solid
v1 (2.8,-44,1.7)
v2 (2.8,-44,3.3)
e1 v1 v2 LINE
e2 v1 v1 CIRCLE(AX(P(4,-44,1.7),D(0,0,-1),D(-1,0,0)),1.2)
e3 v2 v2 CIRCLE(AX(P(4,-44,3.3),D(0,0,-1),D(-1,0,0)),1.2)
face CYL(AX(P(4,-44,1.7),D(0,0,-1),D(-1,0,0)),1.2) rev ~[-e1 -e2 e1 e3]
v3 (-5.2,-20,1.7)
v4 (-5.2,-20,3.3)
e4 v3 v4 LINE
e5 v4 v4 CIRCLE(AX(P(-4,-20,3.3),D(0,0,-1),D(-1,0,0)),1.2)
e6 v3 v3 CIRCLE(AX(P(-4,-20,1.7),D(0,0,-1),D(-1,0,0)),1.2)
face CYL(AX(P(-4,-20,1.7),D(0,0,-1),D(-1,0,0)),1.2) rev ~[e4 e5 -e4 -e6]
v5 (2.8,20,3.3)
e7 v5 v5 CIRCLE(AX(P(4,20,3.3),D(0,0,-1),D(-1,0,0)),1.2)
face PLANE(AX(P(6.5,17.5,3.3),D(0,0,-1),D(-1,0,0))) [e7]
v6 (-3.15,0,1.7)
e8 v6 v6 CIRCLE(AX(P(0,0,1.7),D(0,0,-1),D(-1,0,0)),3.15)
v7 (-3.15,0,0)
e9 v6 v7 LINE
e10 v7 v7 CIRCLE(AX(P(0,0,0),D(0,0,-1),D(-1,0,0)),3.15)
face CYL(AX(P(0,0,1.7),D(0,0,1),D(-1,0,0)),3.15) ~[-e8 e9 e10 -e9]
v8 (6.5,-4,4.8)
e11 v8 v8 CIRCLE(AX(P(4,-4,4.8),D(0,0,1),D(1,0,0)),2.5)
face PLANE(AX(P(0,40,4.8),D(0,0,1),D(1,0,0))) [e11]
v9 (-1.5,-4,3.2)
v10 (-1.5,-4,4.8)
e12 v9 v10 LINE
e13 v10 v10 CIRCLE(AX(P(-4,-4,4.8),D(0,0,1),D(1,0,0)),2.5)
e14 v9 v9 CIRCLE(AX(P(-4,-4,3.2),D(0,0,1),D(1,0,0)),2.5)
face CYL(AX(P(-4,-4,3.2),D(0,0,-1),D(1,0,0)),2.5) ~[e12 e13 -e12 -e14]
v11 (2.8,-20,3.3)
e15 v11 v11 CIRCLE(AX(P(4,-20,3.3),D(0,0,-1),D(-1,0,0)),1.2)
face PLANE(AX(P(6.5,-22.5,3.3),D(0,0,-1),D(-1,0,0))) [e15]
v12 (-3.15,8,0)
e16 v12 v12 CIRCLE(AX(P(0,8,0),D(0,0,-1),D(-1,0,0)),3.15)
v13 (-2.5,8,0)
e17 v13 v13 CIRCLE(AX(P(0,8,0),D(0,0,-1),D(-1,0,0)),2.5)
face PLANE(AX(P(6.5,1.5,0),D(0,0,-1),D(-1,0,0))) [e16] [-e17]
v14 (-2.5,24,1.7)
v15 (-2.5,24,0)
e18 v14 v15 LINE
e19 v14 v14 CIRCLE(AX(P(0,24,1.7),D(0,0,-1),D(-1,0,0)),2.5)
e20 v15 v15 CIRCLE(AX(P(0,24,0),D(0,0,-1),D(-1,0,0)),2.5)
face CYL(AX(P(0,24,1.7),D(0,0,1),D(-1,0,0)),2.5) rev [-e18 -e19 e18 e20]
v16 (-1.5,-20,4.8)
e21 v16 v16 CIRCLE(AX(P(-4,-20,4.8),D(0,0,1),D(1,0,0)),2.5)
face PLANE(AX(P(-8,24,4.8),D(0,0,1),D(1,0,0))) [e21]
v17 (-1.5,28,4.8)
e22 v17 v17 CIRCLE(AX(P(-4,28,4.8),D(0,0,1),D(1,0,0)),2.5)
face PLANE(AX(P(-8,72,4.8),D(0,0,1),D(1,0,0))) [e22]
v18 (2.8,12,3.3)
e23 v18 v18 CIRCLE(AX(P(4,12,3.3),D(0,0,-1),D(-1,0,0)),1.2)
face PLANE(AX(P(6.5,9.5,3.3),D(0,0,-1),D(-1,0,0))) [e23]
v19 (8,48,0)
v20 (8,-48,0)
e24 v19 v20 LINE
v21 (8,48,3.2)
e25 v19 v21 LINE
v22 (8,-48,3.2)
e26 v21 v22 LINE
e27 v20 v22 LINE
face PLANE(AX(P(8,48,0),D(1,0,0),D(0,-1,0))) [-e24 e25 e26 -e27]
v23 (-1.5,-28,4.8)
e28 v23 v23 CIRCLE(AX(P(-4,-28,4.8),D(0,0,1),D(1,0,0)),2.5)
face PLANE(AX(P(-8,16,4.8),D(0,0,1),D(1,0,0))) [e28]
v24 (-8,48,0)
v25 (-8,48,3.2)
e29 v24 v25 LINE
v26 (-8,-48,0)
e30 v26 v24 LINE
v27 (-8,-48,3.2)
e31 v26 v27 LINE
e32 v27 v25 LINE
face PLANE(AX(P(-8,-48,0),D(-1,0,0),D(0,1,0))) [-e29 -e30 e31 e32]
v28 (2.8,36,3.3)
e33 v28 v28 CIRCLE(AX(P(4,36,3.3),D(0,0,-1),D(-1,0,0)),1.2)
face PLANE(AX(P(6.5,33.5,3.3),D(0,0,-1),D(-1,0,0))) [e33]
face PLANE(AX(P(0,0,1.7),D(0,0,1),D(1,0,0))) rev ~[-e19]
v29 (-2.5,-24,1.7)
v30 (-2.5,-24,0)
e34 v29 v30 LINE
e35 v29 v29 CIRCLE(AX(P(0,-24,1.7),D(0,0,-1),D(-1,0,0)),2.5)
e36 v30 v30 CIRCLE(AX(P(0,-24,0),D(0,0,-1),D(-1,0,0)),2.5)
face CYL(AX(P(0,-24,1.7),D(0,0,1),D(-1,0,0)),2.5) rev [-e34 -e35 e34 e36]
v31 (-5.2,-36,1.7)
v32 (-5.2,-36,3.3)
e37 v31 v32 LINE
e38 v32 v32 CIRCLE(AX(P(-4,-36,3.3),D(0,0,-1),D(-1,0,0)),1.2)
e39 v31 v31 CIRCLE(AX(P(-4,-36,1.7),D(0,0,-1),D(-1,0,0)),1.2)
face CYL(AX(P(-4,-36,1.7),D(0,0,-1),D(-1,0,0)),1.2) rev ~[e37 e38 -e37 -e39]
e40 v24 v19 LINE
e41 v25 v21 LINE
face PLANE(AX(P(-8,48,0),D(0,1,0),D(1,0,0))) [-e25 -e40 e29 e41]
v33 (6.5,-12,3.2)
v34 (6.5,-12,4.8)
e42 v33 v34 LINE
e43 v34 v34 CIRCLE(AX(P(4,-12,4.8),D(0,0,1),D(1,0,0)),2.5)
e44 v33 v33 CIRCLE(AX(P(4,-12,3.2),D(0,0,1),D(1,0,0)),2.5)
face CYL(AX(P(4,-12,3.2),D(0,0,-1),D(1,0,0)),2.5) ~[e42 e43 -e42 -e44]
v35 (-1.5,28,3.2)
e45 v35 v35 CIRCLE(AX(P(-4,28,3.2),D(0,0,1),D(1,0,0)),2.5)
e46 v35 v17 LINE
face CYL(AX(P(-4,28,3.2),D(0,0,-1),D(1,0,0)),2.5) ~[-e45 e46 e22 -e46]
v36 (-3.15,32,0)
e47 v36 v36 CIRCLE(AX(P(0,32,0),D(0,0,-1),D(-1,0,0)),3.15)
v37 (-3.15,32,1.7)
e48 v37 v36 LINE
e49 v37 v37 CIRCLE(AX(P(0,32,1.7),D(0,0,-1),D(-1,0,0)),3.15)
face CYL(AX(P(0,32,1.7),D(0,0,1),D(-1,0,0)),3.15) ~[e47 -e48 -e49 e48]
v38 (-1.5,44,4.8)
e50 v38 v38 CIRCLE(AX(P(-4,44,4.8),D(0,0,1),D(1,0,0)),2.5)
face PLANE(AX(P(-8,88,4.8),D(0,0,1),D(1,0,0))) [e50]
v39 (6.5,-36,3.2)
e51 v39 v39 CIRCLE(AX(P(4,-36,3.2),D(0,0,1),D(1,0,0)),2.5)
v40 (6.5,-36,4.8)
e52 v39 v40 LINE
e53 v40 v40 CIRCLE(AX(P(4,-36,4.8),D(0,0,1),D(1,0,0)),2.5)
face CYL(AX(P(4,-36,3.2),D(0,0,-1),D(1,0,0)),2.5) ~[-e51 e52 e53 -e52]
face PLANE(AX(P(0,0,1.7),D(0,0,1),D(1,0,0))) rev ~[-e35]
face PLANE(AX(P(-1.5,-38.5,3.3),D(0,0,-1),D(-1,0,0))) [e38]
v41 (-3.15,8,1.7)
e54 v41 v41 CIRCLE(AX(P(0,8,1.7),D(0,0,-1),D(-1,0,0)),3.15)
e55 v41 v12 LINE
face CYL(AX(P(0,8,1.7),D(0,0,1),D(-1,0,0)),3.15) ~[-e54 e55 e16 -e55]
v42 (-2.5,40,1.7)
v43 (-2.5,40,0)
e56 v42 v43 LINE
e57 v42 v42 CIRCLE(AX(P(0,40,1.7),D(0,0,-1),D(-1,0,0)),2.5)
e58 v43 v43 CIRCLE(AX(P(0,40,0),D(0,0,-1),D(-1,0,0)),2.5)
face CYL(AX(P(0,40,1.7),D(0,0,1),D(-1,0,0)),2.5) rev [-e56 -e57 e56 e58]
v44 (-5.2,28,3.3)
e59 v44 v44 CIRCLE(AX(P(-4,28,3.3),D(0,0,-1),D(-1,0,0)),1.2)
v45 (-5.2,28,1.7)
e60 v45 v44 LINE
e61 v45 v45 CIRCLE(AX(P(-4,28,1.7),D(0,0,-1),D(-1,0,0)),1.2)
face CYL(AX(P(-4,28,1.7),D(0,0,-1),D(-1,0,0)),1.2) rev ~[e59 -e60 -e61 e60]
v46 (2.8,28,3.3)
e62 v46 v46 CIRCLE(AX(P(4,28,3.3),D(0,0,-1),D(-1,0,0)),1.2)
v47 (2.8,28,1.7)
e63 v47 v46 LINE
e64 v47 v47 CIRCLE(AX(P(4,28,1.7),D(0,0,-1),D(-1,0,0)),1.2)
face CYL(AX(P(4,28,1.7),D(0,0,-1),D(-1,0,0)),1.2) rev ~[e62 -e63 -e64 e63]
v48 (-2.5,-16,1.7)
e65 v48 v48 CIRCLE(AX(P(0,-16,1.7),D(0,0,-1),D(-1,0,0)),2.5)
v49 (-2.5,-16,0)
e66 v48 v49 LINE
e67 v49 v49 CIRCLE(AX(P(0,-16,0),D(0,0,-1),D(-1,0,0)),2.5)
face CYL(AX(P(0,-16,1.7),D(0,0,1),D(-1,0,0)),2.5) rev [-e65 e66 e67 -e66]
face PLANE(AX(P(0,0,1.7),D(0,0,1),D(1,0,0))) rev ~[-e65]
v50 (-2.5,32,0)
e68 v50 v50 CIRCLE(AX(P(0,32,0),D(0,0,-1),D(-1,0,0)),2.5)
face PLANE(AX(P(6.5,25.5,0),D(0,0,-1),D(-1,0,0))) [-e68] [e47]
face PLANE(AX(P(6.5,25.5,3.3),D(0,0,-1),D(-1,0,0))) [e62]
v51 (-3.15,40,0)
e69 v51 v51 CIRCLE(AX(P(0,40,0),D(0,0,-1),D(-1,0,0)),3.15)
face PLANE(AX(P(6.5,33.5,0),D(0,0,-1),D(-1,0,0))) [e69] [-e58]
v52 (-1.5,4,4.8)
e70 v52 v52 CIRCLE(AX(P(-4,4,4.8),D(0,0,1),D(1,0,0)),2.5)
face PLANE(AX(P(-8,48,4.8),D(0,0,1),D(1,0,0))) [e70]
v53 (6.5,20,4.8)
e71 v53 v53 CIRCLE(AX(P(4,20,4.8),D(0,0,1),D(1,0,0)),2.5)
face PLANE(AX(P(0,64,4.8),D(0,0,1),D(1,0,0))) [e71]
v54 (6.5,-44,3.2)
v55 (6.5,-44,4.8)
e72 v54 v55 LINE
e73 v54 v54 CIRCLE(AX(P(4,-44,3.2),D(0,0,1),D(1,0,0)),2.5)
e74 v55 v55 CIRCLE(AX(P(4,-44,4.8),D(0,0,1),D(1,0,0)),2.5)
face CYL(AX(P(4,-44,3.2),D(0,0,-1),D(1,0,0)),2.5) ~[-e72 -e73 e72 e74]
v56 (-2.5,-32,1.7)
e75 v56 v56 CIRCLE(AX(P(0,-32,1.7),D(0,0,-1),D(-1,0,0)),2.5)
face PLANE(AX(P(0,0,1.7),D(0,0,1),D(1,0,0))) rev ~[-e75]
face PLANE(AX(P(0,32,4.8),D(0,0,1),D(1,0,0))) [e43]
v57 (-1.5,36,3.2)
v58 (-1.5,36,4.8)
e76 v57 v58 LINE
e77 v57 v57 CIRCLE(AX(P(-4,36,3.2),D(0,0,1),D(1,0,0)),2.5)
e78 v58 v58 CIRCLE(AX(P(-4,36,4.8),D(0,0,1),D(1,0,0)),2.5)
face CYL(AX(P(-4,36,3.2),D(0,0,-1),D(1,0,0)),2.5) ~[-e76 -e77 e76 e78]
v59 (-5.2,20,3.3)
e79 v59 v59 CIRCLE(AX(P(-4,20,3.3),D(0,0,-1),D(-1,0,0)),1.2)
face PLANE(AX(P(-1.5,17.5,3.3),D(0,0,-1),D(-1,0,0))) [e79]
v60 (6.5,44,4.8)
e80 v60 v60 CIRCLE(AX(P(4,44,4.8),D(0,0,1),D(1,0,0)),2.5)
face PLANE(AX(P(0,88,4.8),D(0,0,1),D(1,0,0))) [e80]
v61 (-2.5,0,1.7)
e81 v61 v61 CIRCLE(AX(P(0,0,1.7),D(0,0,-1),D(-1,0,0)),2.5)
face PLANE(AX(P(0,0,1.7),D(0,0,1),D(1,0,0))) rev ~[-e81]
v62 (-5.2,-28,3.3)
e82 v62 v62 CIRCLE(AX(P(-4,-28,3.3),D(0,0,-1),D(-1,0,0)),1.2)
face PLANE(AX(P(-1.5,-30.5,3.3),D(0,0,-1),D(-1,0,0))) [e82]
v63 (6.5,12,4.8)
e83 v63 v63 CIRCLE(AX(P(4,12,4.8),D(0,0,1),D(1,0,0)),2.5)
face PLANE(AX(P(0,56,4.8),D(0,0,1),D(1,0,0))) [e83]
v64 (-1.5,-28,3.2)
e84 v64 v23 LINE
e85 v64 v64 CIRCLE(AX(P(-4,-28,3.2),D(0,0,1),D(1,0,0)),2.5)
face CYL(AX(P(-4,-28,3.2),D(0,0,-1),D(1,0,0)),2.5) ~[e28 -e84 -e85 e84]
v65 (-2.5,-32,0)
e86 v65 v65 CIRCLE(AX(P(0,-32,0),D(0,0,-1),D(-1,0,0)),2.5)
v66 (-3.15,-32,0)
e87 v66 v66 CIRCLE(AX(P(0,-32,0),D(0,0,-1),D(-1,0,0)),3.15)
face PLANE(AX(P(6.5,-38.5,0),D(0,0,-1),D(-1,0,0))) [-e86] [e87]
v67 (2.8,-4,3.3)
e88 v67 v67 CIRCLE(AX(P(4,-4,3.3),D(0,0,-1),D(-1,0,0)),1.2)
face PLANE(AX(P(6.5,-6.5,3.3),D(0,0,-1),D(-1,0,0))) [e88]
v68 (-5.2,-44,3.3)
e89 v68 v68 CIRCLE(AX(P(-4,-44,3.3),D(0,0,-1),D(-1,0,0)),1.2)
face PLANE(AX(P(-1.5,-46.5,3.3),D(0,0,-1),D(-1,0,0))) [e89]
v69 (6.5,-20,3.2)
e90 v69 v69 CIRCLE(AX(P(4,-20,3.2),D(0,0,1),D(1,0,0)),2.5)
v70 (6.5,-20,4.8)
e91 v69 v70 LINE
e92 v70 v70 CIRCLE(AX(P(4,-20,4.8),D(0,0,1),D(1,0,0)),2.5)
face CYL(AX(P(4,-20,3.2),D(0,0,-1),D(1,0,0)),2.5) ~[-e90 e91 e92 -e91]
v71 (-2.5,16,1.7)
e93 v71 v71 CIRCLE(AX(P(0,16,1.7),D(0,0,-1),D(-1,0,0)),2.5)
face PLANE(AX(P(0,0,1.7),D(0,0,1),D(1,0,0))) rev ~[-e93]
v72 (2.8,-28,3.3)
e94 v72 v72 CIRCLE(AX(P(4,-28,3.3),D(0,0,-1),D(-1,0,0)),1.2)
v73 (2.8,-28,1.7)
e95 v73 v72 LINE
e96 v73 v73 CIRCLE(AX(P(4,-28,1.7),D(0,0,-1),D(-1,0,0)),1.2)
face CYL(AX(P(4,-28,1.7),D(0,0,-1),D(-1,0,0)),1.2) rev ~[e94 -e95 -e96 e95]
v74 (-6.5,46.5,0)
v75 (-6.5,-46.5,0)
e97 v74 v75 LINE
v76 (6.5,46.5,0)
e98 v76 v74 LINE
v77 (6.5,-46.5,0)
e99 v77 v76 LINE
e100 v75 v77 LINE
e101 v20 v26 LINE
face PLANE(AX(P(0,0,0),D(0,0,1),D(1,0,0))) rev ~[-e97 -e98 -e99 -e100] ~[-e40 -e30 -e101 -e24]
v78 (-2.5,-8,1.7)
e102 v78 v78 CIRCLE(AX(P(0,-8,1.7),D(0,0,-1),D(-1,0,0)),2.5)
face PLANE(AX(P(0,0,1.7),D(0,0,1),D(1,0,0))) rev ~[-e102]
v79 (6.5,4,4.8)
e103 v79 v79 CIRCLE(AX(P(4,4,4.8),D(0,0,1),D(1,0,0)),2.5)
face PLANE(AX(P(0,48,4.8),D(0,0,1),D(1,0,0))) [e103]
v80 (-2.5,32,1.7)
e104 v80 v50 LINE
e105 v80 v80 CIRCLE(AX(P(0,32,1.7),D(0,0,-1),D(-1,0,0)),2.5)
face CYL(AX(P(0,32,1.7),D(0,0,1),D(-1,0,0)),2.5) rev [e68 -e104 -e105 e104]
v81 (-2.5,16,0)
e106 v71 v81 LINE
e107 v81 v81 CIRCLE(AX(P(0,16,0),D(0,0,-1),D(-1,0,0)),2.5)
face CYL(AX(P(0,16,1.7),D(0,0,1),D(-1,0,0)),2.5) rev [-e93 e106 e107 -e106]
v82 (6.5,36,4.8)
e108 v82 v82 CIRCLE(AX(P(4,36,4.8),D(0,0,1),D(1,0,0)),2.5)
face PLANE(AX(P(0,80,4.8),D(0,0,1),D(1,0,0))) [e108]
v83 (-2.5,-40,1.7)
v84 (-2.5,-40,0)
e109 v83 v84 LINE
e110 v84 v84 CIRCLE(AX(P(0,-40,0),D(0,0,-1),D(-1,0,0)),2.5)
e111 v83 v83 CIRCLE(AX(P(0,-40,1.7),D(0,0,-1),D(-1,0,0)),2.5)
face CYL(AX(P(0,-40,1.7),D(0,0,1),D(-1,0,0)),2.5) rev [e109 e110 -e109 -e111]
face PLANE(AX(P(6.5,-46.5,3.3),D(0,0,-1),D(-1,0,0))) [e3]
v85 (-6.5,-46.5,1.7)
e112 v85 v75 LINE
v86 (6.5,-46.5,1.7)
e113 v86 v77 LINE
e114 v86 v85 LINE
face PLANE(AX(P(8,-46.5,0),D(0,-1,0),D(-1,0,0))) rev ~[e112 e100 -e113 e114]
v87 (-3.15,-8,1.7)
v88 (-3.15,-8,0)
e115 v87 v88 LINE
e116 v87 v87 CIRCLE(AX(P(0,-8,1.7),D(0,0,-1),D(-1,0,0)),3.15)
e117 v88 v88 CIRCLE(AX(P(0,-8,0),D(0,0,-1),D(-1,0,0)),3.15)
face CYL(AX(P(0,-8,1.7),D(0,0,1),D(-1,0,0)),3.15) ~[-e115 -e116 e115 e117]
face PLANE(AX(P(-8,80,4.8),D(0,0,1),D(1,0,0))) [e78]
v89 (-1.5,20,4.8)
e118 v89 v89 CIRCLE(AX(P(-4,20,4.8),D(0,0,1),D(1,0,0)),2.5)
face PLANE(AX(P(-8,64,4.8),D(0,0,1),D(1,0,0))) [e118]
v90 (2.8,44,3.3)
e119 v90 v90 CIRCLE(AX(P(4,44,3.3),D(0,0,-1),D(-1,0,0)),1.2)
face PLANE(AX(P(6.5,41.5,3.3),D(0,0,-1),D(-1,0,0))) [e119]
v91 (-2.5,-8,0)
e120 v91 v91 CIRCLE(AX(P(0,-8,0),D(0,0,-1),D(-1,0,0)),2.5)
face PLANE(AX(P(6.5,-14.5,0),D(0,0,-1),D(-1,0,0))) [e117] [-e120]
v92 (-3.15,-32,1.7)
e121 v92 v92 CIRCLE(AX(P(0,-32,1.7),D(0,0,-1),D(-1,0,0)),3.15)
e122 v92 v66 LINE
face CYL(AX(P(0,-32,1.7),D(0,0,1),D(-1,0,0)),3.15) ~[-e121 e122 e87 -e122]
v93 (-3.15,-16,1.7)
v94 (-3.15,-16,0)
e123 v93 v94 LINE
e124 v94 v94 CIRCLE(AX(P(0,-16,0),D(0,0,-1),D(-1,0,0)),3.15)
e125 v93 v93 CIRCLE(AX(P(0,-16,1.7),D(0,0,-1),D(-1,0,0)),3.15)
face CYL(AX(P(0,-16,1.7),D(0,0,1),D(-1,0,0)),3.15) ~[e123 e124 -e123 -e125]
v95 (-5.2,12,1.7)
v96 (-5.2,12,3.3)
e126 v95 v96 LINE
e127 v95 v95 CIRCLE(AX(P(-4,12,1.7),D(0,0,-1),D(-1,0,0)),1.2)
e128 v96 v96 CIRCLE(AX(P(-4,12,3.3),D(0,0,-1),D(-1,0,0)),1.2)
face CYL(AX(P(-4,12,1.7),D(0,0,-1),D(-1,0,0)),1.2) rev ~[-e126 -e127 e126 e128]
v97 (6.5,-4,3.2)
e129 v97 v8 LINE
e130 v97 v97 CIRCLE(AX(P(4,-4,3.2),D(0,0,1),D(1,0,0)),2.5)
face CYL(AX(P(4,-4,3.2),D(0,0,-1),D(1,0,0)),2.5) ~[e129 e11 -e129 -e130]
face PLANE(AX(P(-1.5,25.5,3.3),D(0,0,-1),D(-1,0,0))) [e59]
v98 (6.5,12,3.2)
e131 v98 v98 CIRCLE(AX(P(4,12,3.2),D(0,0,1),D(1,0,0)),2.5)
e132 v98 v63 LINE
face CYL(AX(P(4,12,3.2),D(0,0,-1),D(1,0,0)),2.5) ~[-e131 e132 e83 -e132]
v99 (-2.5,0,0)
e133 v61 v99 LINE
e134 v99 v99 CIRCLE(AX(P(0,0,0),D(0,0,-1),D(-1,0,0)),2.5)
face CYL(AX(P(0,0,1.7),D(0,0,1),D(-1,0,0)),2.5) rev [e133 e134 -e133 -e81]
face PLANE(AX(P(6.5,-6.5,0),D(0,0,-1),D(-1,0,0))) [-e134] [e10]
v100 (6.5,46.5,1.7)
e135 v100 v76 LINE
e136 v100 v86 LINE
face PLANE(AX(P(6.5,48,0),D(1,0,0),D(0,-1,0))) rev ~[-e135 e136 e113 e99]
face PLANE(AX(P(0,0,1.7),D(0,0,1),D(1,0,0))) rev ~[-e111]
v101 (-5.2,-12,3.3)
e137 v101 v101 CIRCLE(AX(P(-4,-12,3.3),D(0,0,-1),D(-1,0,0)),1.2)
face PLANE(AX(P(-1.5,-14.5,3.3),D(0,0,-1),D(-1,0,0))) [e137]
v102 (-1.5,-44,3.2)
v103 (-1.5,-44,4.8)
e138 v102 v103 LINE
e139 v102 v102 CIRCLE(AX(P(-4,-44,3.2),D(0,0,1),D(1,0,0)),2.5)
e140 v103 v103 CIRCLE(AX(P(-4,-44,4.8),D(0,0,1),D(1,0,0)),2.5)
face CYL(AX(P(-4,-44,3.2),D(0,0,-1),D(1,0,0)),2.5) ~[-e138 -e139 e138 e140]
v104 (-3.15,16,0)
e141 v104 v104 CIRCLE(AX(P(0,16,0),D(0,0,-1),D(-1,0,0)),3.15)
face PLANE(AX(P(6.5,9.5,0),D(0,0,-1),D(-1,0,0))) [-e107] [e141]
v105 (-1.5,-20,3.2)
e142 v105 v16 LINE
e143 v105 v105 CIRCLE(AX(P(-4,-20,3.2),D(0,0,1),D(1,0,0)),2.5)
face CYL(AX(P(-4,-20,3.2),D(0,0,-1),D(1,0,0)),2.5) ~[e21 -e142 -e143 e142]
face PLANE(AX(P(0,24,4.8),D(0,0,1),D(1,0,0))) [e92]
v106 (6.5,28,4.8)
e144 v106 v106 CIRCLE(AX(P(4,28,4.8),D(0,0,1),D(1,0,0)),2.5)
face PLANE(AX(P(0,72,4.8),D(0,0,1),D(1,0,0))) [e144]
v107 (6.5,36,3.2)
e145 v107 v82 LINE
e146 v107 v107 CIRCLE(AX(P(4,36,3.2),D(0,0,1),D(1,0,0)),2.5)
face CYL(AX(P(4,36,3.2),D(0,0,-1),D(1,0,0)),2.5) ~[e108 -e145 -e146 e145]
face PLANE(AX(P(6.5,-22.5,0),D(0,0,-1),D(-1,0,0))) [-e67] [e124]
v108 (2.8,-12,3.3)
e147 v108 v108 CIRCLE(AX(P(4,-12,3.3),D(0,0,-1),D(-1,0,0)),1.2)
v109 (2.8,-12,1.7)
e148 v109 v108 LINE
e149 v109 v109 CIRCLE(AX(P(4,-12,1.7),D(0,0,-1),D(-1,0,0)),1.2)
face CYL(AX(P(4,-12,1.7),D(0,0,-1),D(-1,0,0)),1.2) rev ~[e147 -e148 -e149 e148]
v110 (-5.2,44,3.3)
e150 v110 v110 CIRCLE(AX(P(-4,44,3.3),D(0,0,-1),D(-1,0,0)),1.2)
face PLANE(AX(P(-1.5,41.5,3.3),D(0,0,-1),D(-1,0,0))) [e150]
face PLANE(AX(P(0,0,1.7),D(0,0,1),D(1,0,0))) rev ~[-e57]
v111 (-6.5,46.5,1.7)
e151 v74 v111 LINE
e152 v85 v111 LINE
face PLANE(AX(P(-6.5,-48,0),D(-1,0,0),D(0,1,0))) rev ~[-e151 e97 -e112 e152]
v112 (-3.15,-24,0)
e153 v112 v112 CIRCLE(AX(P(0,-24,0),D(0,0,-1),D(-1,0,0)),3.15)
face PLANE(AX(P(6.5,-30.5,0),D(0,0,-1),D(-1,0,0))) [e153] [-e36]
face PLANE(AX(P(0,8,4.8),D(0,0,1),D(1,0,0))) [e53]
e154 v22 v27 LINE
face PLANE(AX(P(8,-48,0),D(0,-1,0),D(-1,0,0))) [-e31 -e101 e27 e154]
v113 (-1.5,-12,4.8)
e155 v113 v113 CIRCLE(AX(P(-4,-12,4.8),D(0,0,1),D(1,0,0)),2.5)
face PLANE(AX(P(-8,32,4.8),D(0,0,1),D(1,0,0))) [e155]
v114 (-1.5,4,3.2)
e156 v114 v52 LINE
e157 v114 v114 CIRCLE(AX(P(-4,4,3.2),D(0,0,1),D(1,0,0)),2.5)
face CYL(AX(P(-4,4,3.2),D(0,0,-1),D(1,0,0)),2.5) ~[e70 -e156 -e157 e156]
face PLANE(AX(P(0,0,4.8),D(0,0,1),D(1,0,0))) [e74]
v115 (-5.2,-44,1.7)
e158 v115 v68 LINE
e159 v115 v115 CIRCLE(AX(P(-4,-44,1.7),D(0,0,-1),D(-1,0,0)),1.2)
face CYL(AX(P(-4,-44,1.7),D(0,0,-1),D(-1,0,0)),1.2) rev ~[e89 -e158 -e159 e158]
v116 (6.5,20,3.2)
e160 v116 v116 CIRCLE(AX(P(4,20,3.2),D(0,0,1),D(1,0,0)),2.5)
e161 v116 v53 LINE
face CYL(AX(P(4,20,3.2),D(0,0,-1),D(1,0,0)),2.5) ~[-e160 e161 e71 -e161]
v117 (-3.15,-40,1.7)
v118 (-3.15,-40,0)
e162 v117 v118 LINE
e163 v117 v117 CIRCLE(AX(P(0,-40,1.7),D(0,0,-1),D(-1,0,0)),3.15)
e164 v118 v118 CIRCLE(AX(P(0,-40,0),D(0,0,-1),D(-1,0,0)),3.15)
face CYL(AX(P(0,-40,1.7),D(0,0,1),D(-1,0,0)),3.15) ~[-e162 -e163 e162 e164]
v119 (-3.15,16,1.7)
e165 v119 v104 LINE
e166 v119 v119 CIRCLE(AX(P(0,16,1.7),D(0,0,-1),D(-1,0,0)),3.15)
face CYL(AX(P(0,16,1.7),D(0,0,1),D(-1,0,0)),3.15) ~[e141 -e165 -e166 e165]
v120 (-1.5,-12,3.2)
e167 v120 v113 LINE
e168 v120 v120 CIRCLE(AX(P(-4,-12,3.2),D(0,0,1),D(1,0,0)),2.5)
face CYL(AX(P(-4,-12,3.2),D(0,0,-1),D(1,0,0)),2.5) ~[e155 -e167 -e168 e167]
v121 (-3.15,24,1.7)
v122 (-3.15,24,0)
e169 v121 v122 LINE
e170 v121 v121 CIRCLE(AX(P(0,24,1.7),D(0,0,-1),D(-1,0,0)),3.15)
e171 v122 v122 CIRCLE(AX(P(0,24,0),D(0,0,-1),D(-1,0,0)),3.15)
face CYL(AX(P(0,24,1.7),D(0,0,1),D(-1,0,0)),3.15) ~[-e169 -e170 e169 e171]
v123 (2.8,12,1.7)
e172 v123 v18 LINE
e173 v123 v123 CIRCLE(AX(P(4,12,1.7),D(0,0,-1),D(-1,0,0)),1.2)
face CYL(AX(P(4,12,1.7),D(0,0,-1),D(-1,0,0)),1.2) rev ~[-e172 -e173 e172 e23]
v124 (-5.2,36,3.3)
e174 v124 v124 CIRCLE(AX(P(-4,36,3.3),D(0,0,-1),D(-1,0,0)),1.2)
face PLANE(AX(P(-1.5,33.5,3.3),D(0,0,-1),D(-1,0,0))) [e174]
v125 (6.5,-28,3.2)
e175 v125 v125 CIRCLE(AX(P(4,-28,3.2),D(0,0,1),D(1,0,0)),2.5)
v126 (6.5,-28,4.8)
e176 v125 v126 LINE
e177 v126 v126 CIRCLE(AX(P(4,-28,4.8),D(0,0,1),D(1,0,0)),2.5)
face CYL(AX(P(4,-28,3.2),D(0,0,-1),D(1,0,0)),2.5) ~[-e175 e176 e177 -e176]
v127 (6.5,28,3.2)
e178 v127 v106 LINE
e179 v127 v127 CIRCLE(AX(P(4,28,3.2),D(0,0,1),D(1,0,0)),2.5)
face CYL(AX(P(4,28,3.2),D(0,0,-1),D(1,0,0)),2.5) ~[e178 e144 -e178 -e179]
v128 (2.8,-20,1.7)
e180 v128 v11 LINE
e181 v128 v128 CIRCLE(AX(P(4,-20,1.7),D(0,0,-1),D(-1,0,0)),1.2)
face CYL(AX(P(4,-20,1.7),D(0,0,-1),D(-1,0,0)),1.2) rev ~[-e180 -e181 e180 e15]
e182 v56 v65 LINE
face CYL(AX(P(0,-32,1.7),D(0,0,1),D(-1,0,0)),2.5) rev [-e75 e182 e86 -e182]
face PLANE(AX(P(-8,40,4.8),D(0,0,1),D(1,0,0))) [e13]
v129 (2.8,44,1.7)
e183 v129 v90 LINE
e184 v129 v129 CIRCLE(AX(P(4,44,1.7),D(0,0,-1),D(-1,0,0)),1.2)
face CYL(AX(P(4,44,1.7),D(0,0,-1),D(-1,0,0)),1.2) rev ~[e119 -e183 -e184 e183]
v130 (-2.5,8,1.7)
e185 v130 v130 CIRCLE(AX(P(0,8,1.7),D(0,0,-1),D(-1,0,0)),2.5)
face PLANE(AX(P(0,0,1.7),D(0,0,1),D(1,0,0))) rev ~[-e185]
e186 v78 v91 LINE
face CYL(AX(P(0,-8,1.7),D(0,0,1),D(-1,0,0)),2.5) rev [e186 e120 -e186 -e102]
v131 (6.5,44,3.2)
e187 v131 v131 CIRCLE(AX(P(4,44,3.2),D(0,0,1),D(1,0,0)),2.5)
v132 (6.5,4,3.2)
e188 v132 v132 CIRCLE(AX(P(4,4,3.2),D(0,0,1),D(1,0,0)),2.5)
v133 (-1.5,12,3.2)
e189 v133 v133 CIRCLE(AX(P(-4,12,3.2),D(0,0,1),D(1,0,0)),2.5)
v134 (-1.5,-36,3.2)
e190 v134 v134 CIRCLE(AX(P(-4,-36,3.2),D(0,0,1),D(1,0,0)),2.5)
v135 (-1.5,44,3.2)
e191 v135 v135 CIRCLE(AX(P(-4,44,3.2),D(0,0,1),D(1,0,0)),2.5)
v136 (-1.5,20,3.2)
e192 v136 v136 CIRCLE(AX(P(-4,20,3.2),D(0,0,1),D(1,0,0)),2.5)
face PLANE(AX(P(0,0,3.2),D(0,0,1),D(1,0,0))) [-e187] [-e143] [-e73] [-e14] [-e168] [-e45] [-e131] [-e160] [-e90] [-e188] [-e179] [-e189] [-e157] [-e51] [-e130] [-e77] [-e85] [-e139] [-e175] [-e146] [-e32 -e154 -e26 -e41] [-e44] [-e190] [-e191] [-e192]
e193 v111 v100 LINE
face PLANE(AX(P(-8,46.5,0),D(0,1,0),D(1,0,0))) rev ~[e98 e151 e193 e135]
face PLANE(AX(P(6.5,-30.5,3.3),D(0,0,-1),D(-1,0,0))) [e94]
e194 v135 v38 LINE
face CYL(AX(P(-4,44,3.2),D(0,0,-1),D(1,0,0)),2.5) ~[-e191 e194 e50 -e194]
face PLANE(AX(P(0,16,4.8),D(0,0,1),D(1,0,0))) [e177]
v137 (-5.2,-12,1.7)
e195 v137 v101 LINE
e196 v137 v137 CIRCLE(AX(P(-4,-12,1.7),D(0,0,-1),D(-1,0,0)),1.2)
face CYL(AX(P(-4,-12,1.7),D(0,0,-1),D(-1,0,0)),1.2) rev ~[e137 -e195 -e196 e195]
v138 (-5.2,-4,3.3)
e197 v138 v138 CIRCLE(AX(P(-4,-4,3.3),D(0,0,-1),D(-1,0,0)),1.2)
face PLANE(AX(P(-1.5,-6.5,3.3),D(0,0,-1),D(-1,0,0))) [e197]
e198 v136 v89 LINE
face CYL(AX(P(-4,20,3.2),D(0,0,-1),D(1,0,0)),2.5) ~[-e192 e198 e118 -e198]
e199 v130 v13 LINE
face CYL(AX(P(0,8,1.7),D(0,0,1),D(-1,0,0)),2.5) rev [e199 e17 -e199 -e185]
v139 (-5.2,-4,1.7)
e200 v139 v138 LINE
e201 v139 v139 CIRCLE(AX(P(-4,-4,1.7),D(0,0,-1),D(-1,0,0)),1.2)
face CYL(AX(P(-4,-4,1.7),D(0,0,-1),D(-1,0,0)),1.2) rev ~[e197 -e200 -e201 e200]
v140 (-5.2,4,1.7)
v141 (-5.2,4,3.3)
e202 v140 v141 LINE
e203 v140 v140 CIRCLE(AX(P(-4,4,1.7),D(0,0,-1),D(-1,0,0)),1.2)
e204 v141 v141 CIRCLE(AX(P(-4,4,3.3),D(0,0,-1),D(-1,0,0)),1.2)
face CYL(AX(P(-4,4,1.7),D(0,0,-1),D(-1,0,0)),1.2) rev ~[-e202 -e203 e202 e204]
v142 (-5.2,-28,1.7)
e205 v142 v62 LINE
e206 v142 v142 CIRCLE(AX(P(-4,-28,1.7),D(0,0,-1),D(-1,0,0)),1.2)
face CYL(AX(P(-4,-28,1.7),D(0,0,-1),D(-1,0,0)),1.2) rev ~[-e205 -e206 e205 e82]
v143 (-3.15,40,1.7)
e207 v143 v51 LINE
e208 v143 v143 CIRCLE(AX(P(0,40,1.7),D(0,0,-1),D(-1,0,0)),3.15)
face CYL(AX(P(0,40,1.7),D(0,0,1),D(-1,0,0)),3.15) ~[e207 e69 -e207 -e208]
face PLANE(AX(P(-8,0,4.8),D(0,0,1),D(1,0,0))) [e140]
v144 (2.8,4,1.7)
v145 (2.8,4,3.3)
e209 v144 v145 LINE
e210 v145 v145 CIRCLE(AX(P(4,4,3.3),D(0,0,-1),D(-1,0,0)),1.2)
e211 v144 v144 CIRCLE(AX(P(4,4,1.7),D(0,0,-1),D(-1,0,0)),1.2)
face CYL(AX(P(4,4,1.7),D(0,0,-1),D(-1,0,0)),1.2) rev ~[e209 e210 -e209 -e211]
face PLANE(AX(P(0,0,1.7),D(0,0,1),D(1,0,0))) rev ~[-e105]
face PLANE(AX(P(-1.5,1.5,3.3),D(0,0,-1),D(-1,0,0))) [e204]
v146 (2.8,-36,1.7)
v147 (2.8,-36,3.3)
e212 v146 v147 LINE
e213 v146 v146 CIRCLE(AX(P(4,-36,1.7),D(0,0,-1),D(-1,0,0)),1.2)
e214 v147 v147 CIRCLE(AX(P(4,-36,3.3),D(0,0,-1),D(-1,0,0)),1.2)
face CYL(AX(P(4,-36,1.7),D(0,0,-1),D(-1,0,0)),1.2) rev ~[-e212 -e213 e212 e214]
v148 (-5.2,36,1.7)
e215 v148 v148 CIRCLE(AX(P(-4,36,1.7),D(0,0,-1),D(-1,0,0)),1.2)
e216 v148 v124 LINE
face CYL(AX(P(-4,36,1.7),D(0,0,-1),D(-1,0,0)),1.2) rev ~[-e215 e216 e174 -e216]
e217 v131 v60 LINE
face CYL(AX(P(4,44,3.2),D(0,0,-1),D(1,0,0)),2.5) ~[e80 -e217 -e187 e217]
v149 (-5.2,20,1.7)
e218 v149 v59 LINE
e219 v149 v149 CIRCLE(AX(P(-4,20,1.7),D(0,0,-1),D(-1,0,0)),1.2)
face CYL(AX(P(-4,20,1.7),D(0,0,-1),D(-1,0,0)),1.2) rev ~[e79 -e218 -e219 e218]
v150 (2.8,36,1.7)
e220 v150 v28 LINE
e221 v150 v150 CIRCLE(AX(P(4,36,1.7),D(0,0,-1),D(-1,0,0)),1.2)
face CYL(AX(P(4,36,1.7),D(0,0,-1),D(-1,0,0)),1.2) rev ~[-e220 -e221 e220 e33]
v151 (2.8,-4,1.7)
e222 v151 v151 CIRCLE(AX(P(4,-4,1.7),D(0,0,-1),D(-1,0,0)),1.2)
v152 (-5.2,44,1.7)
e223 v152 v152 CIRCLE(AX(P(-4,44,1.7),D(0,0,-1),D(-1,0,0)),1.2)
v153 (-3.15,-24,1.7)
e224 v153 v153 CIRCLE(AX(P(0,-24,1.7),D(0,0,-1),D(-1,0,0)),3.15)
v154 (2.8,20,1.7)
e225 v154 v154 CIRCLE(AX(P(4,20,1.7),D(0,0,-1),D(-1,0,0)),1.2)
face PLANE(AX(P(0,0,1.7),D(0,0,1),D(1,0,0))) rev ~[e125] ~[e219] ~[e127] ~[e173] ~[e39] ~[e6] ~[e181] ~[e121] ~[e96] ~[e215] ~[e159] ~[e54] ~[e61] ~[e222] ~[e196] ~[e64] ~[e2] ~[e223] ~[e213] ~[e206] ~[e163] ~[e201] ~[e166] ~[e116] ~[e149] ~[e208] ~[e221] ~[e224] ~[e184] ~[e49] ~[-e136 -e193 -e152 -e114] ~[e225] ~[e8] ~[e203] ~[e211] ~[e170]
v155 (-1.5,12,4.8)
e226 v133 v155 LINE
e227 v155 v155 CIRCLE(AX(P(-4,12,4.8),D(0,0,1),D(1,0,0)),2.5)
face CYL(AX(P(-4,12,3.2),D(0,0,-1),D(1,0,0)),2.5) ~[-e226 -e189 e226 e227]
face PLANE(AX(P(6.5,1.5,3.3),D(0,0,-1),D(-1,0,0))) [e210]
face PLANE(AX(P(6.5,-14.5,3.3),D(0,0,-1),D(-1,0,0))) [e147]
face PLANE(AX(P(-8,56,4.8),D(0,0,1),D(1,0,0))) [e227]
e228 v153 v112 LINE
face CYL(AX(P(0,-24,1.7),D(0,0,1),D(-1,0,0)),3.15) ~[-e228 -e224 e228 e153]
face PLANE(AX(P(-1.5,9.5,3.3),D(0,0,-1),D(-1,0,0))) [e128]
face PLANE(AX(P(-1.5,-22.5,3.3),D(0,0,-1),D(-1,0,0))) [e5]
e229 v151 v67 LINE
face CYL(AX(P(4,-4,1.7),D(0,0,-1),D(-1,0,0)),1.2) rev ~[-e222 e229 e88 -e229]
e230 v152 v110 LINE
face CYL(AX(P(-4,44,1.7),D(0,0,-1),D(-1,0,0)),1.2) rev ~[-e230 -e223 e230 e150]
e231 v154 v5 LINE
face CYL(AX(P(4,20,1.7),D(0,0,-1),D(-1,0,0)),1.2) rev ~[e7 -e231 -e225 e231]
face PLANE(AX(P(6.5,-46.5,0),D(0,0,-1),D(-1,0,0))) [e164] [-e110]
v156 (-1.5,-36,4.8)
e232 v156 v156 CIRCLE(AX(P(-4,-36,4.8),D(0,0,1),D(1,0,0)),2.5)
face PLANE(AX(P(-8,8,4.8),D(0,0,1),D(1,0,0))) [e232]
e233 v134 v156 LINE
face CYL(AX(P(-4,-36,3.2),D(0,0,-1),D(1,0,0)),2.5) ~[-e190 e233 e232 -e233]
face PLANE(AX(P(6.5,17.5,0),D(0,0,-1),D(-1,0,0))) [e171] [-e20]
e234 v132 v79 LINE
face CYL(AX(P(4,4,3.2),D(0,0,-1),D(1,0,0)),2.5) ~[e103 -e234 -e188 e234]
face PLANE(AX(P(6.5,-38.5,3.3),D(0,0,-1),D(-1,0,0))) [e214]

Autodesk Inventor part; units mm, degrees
ref_plane "YZ Plane" through (0, 0, 0) normal (1, 0, 0) x (0, 1, 0)
ref_plane "XZ Plane" through (0, 0, 0) normal (0, 1, 0) x (-1, 0, 0)
ref_plane "XY Plane" through (0, 0, 0) normal (0, 0, 1) x (1, 0, 0)
sketch "Sketch1" plane through (0, 0, 0) normal (0, 0, 1) x (1, 0, 0)
  line L0 (-8, 48) -> (8, 48)
  line L1 (8, 48) -> (8, -48)
  line L2 (8, -48) -> (-8, -48)
  line L3 (-8, -48) -> (-8, 48)
  point P0 (0, 0)
  dimension "d0" = 16
  dimension "d1" = 96
  dimension "d2" = 8
  dimension "d3" = 48
extrude "Extrusion1" add sketch "Sketch1" along normal blind 3.2
shell "Shell1" thickness 1.5 removed faces 1 at (-2.6667, 16, 0)
sketch "Sketch2" plane through (0, 0, 3.2) normal (0, 0, 1) x (1, 0, 0)
  circle A0 centre (4, -44) radius 2.5
  line L0 (8, 48) -> (8, -48) projected
  line L1 (8, -48) -> (-8, -48) projected
  dimension "d7" = 5
  dimension "d10" = 4
  dimension "d11" = 4
extrude "Extrusion2" add sketch "Sketch2" along normal blind 1.6
sketch "Sketch3" plane through (6.5, -46.5, 1.7) normal (0, 0, -1) x (-1, 0, 0)
  circle A0 centre (2.5, 2.5) radius 2.5 projected
  circle A1 centre (2.5, 2.5) radius 1.2
  point P0 (6.5, 46.5)
  dimension "d18" = 2.4
extrude "Extrusion3" cut sketch "Sketch3" against normal blind 1.6 contours A1
pattern_linear "Rectangular Pattern1" count 12 spacing 8 along (0, 1, 0) count 2 spacing 8 along (-1, 0, 0) of "Extrusion2", "Extrusion3"
sketch "Sketch4" plane through (6.5, -46.5, 1.7) normal (0, 0, -1) x (-1, 0, 0)
  circle A0 centre (2.5, 10.5) radius 1.2 projected
  circle A1 centre (2.5, 2.5) radius 1.2 projected
  line L0 (0, 93) -> (0, 0) projected
  line L1 (0, 0) -> (13, 0) projected
  circle A2 centre (6.5, 6.5) radius 3.15
  circle A3 centre (6.5, 6.5) radius 2.5
  point P0 (6.5, 46.5)
  dimension "d21" = 6.5
  dimension "d22" = 6.5
  dimension "d23" = 10.5
  dimension "d24" = 2.5
  dimension "d25" = 5
  dimension "d26" = 6.3
extrude "Extrusion4" add sketch "Sketch4" along normal up to surface (1.7 mm away) contours A2
pattern_linear "Rectangular Pattern2" count 11 spacing 8 along (0, 1, 0) of "Extrusion4"
equation "\"d0\" = 8 * WIDTH"
equation "\"d1\" = 8 * LENGTH"
equation "\"d2\" = 0.5 * d0"
equation "\"d3\" = 0.5 * d1"
equation "\"d4\" = HEIGHT"
equation "\"d21\" = 0.5 * d23 + 0.5 * d24"
equation "\"d22\" = d21"
equation "\"WIDTH\" = 2"
equation "\"HEIGHT\" = 3.2"
equation "\"LENGTH\" = 12"
properties part number "2445" material "Steel"
